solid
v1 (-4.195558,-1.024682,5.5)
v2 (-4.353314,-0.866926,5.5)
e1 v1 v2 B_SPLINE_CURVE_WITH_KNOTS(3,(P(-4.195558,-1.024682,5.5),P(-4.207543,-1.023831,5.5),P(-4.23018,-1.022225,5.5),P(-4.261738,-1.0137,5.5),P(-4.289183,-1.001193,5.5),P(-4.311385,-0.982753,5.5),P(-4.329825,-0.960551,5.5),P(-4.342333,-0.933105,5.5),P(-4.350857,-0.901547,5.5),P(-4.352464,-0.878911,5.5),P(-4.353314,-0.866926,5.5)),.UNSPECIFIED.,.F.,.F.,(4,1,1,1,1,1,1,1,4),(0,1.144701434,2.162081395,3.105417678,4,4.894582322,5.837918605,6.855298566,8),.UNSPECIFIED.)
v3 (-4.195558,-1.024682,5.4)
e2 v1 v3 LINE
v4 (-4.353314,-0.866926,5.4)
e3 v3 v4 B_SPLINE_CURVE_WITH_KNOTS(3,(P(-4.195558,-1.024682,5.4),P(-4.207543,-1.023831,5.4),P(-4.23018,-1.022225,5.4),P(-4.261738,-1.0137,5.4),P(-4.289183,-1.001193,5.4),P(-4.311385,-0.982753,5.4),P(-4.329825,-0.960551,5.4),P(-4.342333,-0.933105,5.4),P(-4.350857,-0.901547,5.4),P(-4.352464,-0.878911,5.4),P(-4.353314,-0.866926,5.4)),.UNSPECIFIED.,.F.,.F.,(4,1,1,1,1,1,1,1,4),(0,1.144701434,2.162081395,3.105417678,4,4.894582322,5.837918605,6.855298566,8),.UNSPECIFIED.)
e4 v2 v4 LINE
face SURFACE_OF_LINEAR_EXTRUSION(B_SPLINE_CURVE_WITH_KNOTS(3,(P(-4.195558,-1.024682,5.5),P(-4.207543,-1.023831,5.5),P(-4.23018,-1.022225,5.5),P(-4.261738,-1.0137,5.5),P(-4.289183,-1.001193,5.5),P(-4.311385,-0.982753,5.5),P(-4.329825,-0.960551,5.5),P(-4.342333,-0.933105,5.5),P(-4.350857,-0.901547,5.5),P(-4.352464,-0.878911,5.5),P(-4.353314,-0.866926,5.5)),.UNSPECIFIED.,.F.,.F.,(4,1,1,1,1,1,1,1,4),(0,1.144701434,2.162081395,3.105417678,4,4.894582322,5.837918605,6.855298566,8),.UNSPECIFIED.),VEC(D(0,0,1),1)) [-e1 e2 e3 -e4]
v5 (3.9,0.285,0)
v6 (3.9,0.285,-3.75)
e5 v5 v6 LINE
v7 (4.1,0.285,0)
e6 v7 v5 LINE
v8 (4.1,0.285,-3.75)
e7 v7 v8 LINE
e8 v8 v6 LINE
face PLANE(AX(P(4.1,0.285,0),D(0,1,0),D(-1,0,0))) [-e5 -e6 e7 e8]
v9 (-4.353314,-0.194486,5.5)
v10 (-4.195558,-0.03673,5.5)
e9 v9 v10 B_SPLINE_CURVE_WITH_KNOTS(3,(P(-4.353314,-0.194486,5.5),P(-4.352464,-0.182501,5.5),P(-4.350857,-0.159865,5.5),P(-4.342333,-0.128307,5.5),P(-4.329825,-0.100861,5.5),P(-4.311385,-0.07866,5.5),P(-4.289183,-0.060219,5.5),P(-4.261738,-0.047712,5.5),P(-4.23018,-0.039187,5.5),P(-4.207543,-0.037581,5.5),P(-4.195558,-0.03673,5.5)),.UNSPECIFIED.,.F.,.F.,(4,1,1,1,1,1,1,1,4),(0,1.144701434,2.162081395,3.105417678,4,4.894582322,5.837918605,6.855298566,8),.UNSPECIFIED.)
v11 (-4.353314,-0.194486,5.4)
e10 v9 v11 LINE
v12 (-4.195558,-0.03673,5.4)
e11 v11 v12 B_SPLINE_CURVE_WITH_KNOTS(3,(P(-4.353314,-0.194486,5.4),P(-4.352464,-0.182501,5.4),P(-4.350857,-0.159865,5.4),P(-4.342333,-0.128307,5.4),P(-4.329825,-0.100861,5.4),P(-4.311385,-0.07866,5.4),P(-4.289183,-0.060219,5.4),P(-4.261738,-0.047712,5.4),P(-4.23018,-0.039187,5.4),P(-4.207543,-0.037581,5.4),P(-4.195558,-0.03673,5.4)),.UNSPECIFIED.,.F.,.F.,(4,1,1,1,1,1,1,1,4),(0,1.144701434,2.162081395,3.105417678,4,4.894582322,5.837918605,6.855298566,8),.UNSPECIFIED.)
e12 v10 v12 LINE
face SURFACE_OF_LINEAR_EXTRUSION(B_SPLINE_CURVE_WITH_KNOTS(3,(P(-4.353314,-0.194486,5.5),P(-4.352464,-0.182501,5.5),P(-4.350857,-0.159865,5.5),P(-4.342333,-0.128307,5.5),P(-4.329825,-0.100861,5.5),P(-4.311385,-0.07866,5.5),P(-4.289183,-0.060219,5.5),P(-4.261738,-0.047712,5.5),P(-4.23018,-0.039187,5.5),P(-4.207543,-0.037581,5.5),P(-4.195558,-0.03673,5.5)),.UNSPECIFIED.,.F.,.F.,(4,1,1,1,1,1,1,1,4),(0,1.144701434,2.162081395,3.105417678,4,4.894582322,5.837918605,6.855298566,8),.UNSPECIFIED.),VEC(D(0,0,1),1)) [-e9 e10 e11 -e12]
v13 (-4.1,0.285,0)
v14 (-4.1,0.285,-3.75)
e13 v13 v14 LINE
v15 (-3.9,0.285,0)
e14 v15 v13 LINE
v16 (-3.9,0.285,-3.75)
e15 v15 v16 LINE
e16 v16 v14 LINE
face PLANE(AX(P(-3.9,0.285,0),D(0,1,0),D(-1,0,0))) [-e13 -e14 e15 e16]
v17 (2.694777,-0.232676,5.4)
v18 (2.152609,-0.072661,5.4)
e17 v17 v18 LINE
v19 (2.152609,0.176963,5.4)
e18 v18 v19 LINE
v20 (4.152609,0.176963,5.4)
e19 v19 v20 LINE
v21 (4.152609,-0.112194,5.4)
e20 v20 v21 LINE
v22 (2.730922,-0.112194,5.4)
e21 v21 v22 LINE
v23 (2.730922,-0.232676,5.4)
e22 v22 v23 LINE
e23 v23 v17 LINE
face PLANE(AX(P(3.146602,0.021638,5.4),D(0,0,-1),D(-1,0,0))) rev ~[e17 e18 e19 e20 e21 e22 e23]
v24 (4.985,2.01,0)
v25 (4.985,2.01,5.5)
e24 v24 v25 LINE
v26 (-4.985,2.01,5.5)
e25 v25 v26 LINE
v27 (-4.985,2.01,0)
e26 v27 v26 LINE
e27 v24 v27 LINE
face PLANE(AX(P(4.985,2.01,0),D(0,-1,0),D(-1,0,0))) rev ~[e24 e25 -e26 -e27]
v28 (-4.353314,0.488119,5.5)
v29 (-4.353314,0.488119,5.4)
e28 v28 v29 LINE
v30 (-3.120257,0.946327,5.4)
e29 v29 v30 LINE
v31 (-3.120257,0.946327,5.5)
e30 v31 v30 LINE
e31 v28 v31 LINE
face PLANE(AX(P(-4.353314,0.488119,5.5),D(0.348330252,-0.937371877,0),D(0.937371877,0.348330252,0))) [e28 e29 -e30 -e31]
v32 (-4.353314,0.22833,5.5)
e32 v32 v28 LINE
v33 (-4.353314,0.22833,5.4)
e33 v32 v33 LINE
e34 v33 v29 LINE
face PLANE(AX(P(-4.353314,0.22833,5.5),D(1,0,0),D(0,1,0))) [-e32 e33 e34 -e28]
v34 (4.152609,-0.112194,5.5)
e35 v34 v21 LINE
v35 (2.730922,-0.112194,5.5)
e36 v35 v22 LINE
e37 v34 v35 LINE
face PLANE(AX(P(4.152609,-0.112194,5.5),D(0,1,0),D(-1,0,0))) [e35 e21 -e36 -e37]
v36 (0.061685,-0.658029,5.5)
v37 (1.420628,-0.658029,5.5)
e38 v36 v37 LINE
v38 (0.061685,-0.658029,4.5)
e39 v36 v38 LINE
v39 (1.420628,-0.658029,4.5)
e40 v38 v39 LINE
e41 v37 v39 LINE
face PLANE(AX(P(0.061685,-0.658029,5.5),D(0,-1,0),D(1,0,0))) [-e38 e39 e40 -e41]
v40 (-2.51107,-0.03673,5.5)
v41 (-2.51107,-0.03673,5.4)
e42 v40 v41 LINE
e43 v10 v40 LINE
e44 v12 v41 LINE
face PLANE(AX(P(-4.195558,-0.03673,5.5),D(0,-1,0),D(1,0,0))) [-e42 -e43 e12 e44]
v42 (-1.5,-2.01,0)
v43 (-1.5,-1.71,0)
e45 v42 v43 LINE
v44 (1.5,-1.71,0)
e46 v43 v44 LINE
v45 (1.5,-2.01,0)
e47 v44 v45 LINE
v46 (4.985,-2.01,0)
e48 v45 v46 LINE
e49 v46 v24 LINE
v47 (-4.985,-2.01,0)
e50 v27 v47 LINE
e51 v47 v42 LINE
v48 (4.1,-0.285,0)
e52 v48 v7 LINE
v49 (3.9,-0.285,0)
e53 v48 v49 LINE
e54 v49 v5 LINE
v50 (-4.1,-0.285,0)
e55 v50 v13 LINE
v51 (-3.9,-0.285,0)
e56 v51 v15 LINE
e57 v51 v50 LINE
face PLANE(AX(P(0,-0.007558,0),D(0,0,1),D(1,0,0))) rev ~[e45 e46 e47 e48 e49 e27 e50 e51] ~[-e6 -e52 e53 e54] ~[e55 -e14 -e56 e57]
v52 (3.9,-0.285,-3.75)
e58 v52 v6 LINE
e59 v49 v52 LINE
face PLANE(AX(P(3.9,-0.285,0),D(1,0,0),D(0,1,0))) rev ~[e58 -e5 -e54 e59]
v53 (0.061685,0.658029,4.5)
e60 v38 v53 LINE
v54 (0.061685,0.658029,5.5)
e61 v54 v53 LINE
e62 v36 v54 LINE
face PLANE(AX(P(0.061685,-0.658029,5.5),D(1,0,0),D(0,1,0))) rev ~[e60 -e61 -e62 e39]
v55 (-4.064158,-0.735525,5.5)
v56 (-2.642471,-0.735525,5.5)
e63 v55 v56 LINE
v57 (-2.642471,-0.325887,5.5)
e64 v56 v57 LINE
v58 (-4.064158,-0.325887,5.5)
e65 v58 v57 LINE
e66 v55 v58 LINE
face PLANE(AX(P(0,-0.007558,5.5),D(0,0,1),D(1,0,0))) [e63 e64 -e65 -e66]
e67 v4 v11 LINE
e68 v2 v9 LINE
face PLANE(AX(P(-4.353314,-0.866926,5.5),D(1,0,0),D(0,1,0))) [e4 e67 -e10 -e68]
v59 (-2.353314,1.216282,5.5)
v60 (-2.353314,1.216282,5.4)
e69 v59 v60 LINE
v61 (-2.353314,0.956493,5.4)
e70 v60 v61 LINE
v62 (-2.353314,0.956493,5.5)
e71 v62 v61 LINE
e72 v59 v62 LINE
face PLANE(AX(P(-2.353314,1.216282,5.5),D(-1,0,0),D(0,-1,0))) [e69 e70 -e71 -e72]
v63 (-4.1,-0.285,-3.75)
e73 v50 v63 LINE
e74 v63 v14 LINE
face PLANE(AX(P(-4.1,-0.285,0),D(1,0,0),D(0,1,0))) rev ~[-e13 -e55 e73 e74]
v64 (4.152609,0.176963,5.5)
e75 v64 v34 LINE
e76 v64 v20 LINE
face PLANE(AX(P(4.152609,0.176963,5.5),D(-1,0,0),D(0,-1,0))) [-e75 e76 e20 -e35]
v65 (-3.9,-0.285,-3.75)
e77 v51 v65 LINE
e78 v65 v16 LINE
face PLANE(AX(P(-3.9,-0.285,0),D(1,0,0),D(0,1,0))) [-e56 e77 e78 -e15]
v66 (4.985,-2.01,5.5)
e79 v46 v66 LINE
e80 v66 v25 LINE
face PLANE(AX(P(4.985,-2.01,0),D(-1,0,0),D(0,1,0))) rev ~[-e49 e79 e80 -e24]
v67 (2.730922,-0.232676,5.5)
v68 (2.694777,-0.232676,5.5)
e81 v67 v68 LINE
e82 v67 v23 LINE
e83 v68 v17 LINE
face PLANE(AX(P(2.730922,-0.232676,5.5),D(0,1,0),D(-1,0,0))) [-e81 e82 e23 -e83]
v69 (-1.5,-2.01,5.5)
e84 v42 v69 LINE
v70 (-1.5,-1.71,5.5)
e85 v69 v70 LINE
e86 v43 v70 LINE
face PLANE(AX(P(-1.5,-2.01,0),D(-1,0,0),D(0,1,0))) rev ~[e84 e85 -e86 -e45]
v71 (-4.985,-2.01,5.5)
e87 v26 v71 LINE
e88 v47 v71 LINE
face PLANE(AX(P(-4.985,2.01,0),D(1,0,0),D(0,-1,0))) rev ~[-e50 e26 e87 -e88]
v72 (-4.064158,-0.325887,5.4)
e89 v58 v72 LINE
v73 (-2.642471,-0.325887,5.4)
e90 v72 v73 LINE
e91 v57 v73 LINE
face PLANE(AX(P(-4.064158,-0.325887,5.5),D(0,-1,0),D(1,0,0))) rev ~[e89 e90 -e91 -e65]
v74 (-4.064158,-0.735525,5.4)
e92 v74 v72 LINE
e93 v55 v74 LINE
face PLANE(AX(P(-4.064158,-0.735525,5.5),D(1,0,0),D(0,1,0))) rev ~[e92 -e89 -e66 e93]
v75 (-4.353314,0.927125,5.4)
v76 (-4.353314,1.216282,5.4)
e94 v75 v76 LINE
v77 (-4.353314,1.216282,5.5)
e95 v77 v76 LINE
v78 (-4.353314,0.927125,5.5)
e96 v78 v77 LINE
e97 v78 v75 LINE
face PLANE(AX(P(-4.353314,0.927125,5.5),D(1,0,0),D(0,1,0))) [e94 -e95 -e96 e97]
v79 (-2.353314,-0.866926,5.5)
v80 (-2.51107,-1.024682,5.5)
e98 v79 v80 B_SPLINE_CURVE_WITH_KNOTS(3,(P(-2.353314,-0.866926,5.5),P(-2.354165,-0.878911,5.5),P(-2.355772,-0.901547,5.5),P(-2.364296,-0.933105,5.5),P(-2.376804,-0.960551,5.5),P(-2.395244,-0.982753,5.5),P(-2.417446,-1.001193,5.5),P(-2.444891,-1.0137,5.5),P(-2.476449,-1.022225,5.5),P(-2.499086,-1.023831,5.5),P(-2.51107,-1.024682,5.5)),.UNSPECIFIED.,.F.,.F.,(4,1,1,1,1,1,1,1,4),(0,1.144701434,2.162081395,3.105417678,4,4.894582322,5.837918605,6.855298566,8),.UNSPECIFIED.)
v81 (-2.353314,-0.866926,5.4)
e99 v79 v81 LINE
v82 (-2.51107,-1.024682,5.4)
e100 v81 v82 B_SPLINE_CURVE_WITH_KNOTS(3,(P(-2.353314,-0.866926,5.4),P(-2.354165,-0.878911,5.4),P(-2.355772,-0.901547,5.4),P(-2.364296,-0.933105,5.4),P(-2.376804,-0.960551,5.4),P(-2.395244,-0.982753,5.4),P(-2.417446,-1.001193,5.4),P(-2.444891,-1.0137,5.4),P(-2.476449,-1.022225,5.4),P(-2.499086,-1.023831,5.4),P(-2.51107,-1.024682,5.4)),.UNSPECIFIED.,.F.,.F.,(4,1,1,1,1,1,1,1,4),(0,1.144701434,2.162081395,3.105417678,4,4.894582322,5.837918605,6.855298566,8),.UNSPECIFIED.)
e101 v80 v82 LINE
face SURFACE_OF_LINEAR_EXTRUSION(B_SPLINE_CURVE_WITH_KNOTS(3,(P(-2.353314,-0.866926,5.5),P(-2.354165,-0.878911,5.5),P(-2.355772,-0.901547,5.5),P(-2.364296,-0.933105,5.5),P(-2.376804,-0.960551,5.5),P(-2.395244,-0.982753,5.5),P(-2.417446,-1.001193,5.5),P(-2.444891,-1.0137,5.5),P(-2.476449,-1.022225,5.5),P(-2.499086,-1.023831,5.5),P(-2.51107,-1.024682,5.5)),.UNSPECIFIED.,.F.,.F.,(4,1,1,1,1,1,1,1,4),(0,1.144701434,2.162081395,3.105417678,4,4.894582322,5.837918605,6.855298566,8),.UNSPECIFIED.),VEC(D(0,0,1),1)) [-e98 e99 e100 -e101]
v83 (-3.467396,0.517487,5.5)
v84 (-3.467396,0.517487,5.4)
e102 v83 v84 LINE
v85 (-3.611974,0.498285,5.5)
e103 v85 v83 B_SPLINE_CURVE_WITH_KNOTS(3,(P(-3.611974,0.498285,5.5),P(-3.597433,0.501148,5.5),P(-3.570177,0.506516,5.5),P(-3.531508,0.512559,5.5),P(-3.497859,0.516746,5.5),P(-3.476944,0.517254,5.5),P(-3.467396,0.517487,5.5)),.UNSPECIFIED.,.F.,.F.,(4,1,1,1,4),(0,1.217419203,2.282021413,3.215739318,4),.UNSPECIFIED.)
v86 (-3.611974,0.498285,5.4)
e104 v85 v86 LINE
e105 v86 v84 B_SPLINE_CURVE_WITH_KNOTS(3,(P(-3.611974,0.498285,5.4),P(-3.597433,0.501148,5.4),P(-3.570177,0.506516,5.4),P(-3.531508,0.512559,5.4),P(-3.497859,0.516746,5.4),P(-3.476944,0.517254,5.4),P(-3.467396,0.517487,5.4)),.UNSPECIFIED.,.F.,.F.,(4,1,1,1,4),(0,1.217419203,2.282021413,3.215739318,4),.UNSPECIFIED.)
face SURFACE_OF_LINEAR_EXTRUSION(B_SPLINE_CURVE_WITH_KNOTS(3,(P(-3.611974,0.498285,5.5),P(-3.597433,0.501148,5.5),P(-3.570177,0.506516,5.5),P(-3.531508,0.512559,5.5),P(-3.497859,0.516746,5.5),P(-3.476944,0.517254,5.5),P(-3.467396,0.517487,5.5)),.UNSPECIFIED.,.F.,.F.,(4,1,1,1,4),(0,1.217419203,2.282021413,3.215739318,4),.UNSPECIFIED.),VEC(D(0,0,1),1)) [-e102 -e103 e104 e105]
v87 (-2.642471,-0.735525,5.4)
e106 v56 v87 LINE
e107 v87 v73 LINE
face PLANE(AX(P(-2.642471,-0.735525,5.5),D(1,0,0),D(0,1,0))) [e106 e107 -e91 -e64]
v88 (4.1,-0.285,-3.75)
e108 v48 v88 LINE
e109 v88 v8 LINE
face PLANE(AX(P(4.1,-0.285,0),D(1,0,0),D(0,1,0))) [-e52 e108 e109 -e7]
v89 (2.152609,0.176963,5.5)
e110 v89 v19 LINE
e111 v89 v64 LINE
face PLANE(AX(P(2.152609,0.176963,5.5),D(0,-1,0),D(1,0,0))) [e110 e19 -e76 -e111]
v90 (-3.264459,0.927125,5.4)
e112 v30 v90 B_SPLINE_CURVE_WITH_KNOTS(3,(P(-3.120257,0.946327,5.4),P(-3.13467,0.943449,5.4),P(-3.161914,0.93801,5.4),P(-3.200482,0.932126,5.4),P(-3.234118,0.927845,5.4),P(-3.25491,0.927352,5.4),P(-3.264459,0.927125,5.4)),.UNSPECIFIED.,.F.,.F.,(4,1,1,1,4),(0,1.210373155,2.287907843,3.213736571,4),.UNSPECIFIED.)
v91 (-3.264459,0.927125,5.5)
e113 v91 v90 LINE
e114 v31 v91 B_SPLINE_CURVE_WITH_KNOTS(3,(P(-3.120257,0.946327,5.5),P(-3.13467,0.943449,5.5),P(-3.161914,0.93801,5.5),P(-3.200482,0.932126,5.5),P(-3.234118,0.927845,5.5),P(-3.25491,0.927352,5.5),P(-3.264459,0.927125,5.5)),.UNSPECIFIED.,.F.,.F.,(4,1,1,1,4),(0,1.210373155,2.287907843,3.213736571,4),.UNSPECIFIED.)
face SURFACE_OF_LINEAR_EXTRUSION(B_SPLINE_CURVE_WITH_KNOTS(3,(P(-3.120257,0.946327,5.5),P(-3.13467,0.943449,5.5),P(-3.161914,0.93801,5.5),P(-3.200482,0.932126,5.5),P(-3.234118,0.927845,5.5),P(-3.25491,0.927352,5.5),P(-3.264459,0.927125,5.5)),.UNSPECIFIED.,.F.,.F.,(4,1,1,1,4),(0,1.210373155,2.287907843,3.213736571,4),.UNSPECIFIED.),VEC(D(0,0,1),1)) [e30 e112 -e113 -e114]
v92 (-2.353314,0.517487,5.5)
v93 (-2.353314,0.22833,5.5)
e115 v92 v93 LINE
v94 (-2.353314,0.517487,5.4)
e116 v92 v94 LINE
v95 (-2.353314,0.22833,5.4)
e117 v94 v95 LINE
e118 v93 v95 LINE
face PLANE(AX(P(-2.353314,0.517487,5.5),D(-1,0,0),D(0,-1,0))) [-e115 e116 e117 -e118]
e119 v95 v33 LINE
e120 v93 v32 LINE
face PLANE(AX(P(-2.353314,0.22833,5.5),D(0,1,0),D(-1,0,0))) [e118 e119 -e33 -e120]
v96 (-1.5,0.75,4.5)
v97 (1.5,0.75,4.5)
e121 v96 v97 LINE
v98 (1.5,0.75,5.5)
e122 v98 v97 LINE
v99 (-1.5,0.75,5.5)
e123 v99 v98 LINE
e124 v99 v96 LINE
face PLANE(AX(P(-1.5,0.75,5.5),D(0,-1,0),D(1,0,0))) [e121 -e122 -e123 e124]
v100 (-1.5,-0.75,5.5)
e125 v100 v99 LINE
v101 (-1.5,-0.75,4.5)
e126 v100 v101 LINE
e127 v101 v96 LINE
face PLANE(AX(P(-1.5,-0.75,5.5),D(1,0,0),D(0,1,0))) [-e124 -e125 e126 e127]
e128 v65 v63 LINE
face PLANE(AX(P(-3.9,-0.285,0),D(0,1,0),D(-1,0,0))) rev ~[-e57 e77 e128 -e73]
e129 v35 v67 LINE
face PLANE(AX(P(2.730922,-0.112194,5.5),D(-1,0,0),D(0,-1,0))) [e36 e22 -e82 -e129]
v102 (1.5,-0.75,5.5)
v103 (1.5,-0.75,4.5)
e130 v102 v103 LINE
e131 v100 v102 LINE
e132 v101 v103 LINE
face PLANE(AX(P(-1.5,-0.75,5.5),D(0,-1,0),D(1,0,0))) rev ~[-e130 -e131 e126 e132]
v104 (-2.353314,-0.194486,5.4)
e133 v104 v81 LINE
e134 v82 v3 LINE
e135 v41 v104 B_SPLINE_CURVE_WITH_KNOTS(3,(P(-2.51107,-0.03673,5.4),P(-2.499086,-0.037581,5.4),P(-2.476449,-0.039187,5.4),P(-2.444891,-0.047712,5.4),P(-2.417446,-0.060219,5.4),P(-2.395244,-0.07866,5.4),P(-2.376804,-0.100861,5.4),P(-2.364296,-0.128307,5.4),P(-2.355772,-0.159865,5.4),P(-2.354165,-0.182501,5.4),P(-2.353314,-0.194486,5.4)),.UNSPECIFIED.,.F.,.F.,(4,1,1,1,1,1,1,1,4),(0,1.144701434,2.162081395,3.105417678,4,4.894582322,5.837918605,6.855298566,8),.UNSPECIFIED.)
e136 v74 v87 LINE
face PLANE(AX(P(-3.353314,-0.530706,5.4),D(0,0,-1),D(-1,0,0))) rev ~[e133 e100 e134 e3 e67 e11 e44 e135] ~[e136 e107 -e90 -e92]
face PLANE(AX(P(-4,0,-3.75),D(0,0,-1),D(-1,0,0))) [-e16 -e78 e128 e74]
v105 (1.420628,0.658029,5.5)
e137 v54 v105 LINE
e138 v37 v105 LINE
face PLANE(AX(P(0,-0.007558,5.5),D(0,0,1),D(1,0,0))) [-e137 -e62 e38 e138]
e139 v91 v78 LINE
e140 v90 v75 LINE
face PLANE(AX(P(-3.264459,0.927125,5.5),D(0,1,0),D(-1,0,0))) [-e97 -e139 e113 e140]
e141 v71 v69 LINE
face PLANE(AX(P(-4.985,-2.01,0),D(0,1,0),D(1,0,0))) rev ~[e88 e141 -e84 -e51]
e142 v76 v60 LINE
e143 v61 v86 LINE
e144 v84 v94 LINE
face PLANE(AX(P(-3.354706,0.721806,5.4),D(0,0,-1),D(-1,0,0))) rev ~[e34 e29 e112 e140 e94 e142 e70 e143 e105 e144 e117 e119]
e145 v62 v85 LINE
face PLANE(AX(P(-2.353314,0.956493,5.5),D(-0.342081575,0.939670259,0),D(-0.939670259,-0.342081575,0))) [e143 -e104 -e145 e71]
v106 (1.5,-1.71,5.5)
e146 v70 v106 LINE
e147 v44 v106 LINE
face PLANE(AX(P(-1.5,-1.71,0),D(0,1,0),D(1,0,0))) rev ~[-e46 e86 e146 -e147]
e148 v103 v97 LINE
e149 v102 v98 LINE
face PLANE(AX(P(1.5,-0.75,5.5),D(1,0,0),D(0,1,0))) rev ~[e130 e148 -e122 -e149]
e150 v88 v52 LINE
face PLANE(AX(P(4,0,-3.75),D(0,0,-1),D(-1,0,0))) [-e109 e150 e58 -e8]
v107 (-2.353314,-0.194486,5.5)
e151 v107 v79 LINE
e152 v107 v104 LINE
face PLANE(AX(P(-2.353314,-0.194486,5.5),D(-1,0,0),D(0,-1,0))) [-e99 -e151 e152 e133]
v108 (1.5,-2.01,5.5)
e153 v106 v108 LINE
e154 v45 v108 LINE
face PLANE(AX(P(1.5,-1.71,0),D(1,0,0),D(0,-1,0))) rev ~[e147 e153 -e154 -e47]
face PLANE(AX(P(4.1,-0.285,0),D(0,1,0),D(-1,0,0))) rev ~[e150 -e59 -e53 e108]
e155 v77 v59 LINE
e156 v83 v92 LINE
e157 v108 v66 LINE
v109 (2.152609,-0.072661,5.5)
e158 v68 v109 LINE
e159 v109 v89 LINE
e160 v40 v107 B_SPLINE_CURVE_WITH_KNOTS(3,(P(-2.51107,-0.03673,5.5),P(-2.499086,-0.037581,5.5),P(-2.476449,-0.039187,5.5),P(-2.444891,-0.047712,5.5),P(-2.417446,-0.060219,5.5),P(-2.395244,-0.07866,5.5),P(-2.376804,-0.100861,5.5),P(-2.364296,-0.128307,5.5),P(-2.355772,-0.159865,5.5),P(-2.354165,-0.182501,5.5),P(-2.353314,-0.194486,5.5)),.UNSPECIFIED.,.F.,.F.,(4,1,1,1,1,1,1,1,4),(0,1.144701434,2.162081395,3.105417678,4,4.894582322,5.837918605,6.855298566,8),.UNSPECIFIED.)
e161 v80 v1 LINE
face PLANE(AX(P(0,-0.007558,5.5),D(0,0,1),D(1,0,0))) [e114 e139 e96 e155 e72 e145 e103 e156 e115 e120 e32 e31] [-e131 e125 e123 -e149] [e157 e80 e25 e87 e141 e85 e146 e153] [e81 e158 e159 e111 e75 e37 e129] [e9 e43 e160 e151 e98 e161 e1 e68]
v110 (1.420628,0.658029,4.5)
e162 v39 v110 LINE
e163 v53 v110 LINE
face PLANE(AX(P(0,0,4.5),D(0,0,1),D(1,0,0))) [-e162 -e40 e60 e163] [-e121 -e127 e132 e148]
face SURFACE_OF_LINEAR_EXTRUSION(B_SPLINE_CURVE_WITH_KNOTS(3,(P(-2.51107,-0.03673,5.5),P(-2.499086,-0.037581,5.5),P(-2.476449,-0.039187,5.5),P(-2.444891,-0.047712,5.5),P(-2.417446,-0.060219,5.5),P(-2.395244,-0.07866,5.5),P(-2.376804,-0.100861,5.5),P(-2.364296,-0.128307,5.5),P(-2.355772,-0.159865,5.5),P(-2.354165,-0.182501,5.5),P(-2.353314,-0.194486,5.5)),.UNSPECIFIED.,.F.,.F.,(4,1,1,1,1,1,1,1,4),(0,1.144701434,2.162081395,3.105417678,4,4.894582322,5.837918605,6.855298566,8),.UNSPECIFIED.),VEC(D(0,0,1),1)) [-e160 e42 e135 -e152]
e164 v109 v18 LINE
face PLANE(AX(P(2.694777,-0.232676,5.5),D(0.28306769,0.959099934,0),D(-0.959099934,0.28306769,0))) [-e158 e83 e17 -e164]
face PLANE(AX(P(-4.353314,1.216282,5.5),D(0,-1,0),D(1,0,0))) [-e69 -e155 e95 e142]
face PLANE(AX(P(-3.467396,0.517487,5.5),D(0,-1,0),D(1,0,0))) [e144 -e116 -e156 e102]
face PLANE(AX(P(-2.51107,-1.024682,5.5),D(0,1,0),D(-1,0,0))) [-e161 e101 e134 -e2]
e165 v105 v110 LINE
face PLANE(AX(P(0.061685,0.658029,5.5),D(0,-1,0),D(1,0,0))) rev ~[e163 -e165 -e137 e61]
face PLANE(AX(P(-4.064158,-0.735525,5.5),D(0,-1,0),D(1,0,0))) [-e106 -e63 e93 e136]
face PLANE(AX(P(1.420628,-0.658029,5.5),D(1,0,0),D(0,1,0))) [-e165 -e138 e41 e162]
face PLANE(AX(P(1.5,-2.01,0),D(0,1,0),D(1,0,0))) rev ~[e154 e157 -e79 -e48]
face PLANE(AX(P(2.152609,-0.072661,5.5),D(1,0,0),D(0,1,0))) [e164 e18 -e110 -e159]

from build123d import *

# Parameters (mm, degrees)
BOSS_EXTRUDE1_DEPTH = 5.5
SKETCH2_W           = 3
SKETCH2_H           = 1.5
SKETCH2_W_2         = 1.358942276
SKETCH2_H_2         = 1.316057296
CUT_EXTRUDE1_DEPTH  = 1
SKETCH3_W           = 0.2
SKETCH3_H           = 0.57
BOSS_EXTRUDE2_DEPTH = 3.75
SKETCH4_W           = 1.421686747
SKETCH4_H           = 0.409638554
CUT_EXTRUDE2_DEPTH  = 0.1


with BuildPart() as part:
    # Sketch1 → Boss-Extrude1 (new body)
    with BuildSketch(Plane.XY):
        Polygon((-4.985, -2.01), (-1.5, -2.01), (-1.5, -1.71), (1.5, -1.71), (1.5, -2.01), (4.985, -2.01), (4.985, 2.01), (-4.985, 2.01), align=None)
    extrude(amount=BOSS_EXTRUDE1_DEPTH)

    # Sketch2 → Cut-Extrude1 (cut)
    with BuildSketch(Plane.XY.offset(5.5)):
        Rectangle(SKETCH2_W, SKETCH2_H)
        with Locations((0.741156602, 0)):
            Rectangle(SKETCH2_W_2, SKETCH2_H_2, mode=Mode.SUBTRACT)
    extrude(amount=-CUT_EXTRUDE1_DEPTH, mode=Mode.SUBTRACT)

    # Sketch3 → Boss-Extrude2 (add)
    with BuildSketch(Plane(origin=(0, 0, 0), x_dir=(-1, 0, 0), z_dir=(0, 0, -1))):
        with Locations((-4, 0)):
            Rectangle(SKETCH3_W, SKETCH3_H)
        with Locations((4, 0)):
            Rectangle(SKETCH3_W, SKETCH3_H)
    extrude(amount=BOSS_EXTRUDE2_DEPTH)

    # Sketch4 → Cut-Extrude2 (cut)
    # profile 1 of 3: a face of its own
    with BuildSketch(Plane.XY.offset(5.5)):
        with BuildLine():
            Line((-2.353314341, 1.216281942), (-2.353314341, 0.956492785))
            Line((-2.353314341, 0.956492785), (-3.611973979, 0.498284954))
            add(Edge.make_bspline(
                [(-3.611973979, 0.498284954), (-3.597433311, 0.501148384), (-3.570177198, 0.50651581), (-3.531507992, 0.512558558), (-3.497858896, 0.516745674), (-3.476943559, 0.517254487), (-3.467395666, 0.517486761)],
                knots=[0, 0, 0, 0, 1.217419203, 2.282021413, 3.215739318, 4, 4, 4, 4], degree=3))
            Line((-3.467395666, 0.517486761), (-2.353314341, 0.517486761))
            Line((-2.353314341, 0.517486761), (-2.353314341, 0.228330135))
            Line((-2.353314341, 0.228330135), (-4.353314341, 0.228330135))
            Line((-4.353314341, 0.228330135), (-4.353314341, 0.488119291))
            Line((-4.353314341, 0.488119291), (-3.120257112, 0.946327123))
            add(Edge.make_bspline(
                [(-3.120257112, 0.946327123), (-3.134669922, 0.943449375), (-3.161913736, 0.938009714), (-3.200482023, 0.932125999), (-3.234118261, 0.927844891), (-3.254910338, 0.927351775), (-3.264458919, 0.927125315)],
                knots=[0, 0, 0, 0, 1.210373155, 2.287907843, 3.213736571, 4, 4, 4, 4], degree=3))
            Line((-3.264458919, 0.927125315), (-4.353314341, 0.927125315))
            Line((-4.353314341, 0.927125315), (-4.353314341, 1.216281942))
            Line((-4.353314341, 1.216281942), (-2.353314341, 1.216281942))
        make_face()
    # profile 2 of 3: a face of its own
    with BuildSketch(Plane.XY.offset(5.5)):
        with BuildLine():
            add(Edge.make_bspline(
                [(-2.511070365, -0.036730106), (-2.49908555, -0.037580702), (-2.476448953, -0.039187284), (-2.444890766, -0.047711625), (-2.417445544, -0.060219475), (-2.395243748, -0.078659514), (-2.376803709, -0.10086131), (-2.364295859, -0.128306532), (-2.355771519, -0.159864718), (-2.354164936, -0.182501315), (-2.353314341, -0.19448613)],
                knots=[0, 0, 0, 0, 1.144701434, 2.162081395, 3.105417678, 4, 4.894582322, 5.837918605, 6.855298566, 8, 8, 8, 8], degree=3))
            Line((-2.353314341, -0.19448613), (-2.353314341, -0.866925889))
            add(Edge.make_bspline(
                [(-2.353314341, -0.866925889), (-2.354164936, -0.878910704), (-2.355771519, -0.901547302), (-2.364295859, -0.933105488), (-2.376803709, -0.96055071), (-2.395243748, -0.982752506), (-2.417445544, -1.001192545), (-2.444890766, -1.013700395), (-2.476448953, -1.022224736), (-2.49908555, -1.023831318), (-2.511070365, -1.024681914)],
                knots=[0, 0, 0, 0, 1.144701434, 2.162081395, 3.105417678, 4, 4.894582322, 5.837918605, 6.855298566, 8, 8, 8, 8], degree=3))
            Line((-2.511070365, -1.024681914), (-4.195558317, -1.024681914))
            add(Edge.make_bspline(
                [(-4.195558317, -1.024681914), (-4.207543132, -1.023831318), (-4.230179729, -1.022224736), (-4.261737915, -1.013700395), (-4.289183137, -1.001192545), (-4.311384933, -0.982752506), (-4.329824972, -0.96055071), (-4.342332823, -0.933105488), (-4.350857163, -0.901547302), (-4.352463745, -0.878910704), (-4.353314341, -0.866925889)],
                knots=[0, 0, 0, 0, 1.144701434, 2.162081395, 3.105417678, 4, 4.894582322, 5.837918605, 6.855298566, 8, 8, 8, 8], degree=3))
            Line((-4.353314341, -0.866925889), (-4.353314341, -0.19448613))
            add(Edge.make_bspline(
                [(-4.353314341, -0.19448613), (-4.352463745, -0.182501315), (-4.350857163, -0.159864718), (-4.342332823, -0.128306532), (-4.329824972, -0.10086131), (-4.311384933, -0.078659514), (-4.289183137, -0.060219475), (-4.261737915, -0.047711625), (-4.230179729, -0.039187284), (-4.207543132, -0.037580702), (-4.195558317, -0.036730106)],
                knots=[0, 0, 0, 0, 1.144701434, 2.162081395, 3.105417678, 4, 4.894582322, 5.837918605, 6.855298566, 8, 8, 8, 8], degree=3))
            Line((-4.195558317, -0.036730106), (-2.511070365, -0.036730106))
        make_face()
        with Locations((-3.35331434, -0.53070601)):
            Rectangle(SKETCH4_W, SKETCH4_H, mode=Mode.SUBTRACT)
    # profile 3 of 3: a face of its own
    with BuildSketch(Plane.XY.offset(5.5)):
        Polygon((4.152608675, 0.176962569), (4.152608675, -0.112194057), (2.730921928, -0.112194057), (2.730921928, -0.232675985), (2.694777349, -0.232675985), (2.152608675, -0.072660924), (2.152608675, 0.176962569), align=None)
    extrude(amount=-CUT_EXTRUDE2_DEPTH, mode=Mode.SUBTRACT)


solid = part.part
